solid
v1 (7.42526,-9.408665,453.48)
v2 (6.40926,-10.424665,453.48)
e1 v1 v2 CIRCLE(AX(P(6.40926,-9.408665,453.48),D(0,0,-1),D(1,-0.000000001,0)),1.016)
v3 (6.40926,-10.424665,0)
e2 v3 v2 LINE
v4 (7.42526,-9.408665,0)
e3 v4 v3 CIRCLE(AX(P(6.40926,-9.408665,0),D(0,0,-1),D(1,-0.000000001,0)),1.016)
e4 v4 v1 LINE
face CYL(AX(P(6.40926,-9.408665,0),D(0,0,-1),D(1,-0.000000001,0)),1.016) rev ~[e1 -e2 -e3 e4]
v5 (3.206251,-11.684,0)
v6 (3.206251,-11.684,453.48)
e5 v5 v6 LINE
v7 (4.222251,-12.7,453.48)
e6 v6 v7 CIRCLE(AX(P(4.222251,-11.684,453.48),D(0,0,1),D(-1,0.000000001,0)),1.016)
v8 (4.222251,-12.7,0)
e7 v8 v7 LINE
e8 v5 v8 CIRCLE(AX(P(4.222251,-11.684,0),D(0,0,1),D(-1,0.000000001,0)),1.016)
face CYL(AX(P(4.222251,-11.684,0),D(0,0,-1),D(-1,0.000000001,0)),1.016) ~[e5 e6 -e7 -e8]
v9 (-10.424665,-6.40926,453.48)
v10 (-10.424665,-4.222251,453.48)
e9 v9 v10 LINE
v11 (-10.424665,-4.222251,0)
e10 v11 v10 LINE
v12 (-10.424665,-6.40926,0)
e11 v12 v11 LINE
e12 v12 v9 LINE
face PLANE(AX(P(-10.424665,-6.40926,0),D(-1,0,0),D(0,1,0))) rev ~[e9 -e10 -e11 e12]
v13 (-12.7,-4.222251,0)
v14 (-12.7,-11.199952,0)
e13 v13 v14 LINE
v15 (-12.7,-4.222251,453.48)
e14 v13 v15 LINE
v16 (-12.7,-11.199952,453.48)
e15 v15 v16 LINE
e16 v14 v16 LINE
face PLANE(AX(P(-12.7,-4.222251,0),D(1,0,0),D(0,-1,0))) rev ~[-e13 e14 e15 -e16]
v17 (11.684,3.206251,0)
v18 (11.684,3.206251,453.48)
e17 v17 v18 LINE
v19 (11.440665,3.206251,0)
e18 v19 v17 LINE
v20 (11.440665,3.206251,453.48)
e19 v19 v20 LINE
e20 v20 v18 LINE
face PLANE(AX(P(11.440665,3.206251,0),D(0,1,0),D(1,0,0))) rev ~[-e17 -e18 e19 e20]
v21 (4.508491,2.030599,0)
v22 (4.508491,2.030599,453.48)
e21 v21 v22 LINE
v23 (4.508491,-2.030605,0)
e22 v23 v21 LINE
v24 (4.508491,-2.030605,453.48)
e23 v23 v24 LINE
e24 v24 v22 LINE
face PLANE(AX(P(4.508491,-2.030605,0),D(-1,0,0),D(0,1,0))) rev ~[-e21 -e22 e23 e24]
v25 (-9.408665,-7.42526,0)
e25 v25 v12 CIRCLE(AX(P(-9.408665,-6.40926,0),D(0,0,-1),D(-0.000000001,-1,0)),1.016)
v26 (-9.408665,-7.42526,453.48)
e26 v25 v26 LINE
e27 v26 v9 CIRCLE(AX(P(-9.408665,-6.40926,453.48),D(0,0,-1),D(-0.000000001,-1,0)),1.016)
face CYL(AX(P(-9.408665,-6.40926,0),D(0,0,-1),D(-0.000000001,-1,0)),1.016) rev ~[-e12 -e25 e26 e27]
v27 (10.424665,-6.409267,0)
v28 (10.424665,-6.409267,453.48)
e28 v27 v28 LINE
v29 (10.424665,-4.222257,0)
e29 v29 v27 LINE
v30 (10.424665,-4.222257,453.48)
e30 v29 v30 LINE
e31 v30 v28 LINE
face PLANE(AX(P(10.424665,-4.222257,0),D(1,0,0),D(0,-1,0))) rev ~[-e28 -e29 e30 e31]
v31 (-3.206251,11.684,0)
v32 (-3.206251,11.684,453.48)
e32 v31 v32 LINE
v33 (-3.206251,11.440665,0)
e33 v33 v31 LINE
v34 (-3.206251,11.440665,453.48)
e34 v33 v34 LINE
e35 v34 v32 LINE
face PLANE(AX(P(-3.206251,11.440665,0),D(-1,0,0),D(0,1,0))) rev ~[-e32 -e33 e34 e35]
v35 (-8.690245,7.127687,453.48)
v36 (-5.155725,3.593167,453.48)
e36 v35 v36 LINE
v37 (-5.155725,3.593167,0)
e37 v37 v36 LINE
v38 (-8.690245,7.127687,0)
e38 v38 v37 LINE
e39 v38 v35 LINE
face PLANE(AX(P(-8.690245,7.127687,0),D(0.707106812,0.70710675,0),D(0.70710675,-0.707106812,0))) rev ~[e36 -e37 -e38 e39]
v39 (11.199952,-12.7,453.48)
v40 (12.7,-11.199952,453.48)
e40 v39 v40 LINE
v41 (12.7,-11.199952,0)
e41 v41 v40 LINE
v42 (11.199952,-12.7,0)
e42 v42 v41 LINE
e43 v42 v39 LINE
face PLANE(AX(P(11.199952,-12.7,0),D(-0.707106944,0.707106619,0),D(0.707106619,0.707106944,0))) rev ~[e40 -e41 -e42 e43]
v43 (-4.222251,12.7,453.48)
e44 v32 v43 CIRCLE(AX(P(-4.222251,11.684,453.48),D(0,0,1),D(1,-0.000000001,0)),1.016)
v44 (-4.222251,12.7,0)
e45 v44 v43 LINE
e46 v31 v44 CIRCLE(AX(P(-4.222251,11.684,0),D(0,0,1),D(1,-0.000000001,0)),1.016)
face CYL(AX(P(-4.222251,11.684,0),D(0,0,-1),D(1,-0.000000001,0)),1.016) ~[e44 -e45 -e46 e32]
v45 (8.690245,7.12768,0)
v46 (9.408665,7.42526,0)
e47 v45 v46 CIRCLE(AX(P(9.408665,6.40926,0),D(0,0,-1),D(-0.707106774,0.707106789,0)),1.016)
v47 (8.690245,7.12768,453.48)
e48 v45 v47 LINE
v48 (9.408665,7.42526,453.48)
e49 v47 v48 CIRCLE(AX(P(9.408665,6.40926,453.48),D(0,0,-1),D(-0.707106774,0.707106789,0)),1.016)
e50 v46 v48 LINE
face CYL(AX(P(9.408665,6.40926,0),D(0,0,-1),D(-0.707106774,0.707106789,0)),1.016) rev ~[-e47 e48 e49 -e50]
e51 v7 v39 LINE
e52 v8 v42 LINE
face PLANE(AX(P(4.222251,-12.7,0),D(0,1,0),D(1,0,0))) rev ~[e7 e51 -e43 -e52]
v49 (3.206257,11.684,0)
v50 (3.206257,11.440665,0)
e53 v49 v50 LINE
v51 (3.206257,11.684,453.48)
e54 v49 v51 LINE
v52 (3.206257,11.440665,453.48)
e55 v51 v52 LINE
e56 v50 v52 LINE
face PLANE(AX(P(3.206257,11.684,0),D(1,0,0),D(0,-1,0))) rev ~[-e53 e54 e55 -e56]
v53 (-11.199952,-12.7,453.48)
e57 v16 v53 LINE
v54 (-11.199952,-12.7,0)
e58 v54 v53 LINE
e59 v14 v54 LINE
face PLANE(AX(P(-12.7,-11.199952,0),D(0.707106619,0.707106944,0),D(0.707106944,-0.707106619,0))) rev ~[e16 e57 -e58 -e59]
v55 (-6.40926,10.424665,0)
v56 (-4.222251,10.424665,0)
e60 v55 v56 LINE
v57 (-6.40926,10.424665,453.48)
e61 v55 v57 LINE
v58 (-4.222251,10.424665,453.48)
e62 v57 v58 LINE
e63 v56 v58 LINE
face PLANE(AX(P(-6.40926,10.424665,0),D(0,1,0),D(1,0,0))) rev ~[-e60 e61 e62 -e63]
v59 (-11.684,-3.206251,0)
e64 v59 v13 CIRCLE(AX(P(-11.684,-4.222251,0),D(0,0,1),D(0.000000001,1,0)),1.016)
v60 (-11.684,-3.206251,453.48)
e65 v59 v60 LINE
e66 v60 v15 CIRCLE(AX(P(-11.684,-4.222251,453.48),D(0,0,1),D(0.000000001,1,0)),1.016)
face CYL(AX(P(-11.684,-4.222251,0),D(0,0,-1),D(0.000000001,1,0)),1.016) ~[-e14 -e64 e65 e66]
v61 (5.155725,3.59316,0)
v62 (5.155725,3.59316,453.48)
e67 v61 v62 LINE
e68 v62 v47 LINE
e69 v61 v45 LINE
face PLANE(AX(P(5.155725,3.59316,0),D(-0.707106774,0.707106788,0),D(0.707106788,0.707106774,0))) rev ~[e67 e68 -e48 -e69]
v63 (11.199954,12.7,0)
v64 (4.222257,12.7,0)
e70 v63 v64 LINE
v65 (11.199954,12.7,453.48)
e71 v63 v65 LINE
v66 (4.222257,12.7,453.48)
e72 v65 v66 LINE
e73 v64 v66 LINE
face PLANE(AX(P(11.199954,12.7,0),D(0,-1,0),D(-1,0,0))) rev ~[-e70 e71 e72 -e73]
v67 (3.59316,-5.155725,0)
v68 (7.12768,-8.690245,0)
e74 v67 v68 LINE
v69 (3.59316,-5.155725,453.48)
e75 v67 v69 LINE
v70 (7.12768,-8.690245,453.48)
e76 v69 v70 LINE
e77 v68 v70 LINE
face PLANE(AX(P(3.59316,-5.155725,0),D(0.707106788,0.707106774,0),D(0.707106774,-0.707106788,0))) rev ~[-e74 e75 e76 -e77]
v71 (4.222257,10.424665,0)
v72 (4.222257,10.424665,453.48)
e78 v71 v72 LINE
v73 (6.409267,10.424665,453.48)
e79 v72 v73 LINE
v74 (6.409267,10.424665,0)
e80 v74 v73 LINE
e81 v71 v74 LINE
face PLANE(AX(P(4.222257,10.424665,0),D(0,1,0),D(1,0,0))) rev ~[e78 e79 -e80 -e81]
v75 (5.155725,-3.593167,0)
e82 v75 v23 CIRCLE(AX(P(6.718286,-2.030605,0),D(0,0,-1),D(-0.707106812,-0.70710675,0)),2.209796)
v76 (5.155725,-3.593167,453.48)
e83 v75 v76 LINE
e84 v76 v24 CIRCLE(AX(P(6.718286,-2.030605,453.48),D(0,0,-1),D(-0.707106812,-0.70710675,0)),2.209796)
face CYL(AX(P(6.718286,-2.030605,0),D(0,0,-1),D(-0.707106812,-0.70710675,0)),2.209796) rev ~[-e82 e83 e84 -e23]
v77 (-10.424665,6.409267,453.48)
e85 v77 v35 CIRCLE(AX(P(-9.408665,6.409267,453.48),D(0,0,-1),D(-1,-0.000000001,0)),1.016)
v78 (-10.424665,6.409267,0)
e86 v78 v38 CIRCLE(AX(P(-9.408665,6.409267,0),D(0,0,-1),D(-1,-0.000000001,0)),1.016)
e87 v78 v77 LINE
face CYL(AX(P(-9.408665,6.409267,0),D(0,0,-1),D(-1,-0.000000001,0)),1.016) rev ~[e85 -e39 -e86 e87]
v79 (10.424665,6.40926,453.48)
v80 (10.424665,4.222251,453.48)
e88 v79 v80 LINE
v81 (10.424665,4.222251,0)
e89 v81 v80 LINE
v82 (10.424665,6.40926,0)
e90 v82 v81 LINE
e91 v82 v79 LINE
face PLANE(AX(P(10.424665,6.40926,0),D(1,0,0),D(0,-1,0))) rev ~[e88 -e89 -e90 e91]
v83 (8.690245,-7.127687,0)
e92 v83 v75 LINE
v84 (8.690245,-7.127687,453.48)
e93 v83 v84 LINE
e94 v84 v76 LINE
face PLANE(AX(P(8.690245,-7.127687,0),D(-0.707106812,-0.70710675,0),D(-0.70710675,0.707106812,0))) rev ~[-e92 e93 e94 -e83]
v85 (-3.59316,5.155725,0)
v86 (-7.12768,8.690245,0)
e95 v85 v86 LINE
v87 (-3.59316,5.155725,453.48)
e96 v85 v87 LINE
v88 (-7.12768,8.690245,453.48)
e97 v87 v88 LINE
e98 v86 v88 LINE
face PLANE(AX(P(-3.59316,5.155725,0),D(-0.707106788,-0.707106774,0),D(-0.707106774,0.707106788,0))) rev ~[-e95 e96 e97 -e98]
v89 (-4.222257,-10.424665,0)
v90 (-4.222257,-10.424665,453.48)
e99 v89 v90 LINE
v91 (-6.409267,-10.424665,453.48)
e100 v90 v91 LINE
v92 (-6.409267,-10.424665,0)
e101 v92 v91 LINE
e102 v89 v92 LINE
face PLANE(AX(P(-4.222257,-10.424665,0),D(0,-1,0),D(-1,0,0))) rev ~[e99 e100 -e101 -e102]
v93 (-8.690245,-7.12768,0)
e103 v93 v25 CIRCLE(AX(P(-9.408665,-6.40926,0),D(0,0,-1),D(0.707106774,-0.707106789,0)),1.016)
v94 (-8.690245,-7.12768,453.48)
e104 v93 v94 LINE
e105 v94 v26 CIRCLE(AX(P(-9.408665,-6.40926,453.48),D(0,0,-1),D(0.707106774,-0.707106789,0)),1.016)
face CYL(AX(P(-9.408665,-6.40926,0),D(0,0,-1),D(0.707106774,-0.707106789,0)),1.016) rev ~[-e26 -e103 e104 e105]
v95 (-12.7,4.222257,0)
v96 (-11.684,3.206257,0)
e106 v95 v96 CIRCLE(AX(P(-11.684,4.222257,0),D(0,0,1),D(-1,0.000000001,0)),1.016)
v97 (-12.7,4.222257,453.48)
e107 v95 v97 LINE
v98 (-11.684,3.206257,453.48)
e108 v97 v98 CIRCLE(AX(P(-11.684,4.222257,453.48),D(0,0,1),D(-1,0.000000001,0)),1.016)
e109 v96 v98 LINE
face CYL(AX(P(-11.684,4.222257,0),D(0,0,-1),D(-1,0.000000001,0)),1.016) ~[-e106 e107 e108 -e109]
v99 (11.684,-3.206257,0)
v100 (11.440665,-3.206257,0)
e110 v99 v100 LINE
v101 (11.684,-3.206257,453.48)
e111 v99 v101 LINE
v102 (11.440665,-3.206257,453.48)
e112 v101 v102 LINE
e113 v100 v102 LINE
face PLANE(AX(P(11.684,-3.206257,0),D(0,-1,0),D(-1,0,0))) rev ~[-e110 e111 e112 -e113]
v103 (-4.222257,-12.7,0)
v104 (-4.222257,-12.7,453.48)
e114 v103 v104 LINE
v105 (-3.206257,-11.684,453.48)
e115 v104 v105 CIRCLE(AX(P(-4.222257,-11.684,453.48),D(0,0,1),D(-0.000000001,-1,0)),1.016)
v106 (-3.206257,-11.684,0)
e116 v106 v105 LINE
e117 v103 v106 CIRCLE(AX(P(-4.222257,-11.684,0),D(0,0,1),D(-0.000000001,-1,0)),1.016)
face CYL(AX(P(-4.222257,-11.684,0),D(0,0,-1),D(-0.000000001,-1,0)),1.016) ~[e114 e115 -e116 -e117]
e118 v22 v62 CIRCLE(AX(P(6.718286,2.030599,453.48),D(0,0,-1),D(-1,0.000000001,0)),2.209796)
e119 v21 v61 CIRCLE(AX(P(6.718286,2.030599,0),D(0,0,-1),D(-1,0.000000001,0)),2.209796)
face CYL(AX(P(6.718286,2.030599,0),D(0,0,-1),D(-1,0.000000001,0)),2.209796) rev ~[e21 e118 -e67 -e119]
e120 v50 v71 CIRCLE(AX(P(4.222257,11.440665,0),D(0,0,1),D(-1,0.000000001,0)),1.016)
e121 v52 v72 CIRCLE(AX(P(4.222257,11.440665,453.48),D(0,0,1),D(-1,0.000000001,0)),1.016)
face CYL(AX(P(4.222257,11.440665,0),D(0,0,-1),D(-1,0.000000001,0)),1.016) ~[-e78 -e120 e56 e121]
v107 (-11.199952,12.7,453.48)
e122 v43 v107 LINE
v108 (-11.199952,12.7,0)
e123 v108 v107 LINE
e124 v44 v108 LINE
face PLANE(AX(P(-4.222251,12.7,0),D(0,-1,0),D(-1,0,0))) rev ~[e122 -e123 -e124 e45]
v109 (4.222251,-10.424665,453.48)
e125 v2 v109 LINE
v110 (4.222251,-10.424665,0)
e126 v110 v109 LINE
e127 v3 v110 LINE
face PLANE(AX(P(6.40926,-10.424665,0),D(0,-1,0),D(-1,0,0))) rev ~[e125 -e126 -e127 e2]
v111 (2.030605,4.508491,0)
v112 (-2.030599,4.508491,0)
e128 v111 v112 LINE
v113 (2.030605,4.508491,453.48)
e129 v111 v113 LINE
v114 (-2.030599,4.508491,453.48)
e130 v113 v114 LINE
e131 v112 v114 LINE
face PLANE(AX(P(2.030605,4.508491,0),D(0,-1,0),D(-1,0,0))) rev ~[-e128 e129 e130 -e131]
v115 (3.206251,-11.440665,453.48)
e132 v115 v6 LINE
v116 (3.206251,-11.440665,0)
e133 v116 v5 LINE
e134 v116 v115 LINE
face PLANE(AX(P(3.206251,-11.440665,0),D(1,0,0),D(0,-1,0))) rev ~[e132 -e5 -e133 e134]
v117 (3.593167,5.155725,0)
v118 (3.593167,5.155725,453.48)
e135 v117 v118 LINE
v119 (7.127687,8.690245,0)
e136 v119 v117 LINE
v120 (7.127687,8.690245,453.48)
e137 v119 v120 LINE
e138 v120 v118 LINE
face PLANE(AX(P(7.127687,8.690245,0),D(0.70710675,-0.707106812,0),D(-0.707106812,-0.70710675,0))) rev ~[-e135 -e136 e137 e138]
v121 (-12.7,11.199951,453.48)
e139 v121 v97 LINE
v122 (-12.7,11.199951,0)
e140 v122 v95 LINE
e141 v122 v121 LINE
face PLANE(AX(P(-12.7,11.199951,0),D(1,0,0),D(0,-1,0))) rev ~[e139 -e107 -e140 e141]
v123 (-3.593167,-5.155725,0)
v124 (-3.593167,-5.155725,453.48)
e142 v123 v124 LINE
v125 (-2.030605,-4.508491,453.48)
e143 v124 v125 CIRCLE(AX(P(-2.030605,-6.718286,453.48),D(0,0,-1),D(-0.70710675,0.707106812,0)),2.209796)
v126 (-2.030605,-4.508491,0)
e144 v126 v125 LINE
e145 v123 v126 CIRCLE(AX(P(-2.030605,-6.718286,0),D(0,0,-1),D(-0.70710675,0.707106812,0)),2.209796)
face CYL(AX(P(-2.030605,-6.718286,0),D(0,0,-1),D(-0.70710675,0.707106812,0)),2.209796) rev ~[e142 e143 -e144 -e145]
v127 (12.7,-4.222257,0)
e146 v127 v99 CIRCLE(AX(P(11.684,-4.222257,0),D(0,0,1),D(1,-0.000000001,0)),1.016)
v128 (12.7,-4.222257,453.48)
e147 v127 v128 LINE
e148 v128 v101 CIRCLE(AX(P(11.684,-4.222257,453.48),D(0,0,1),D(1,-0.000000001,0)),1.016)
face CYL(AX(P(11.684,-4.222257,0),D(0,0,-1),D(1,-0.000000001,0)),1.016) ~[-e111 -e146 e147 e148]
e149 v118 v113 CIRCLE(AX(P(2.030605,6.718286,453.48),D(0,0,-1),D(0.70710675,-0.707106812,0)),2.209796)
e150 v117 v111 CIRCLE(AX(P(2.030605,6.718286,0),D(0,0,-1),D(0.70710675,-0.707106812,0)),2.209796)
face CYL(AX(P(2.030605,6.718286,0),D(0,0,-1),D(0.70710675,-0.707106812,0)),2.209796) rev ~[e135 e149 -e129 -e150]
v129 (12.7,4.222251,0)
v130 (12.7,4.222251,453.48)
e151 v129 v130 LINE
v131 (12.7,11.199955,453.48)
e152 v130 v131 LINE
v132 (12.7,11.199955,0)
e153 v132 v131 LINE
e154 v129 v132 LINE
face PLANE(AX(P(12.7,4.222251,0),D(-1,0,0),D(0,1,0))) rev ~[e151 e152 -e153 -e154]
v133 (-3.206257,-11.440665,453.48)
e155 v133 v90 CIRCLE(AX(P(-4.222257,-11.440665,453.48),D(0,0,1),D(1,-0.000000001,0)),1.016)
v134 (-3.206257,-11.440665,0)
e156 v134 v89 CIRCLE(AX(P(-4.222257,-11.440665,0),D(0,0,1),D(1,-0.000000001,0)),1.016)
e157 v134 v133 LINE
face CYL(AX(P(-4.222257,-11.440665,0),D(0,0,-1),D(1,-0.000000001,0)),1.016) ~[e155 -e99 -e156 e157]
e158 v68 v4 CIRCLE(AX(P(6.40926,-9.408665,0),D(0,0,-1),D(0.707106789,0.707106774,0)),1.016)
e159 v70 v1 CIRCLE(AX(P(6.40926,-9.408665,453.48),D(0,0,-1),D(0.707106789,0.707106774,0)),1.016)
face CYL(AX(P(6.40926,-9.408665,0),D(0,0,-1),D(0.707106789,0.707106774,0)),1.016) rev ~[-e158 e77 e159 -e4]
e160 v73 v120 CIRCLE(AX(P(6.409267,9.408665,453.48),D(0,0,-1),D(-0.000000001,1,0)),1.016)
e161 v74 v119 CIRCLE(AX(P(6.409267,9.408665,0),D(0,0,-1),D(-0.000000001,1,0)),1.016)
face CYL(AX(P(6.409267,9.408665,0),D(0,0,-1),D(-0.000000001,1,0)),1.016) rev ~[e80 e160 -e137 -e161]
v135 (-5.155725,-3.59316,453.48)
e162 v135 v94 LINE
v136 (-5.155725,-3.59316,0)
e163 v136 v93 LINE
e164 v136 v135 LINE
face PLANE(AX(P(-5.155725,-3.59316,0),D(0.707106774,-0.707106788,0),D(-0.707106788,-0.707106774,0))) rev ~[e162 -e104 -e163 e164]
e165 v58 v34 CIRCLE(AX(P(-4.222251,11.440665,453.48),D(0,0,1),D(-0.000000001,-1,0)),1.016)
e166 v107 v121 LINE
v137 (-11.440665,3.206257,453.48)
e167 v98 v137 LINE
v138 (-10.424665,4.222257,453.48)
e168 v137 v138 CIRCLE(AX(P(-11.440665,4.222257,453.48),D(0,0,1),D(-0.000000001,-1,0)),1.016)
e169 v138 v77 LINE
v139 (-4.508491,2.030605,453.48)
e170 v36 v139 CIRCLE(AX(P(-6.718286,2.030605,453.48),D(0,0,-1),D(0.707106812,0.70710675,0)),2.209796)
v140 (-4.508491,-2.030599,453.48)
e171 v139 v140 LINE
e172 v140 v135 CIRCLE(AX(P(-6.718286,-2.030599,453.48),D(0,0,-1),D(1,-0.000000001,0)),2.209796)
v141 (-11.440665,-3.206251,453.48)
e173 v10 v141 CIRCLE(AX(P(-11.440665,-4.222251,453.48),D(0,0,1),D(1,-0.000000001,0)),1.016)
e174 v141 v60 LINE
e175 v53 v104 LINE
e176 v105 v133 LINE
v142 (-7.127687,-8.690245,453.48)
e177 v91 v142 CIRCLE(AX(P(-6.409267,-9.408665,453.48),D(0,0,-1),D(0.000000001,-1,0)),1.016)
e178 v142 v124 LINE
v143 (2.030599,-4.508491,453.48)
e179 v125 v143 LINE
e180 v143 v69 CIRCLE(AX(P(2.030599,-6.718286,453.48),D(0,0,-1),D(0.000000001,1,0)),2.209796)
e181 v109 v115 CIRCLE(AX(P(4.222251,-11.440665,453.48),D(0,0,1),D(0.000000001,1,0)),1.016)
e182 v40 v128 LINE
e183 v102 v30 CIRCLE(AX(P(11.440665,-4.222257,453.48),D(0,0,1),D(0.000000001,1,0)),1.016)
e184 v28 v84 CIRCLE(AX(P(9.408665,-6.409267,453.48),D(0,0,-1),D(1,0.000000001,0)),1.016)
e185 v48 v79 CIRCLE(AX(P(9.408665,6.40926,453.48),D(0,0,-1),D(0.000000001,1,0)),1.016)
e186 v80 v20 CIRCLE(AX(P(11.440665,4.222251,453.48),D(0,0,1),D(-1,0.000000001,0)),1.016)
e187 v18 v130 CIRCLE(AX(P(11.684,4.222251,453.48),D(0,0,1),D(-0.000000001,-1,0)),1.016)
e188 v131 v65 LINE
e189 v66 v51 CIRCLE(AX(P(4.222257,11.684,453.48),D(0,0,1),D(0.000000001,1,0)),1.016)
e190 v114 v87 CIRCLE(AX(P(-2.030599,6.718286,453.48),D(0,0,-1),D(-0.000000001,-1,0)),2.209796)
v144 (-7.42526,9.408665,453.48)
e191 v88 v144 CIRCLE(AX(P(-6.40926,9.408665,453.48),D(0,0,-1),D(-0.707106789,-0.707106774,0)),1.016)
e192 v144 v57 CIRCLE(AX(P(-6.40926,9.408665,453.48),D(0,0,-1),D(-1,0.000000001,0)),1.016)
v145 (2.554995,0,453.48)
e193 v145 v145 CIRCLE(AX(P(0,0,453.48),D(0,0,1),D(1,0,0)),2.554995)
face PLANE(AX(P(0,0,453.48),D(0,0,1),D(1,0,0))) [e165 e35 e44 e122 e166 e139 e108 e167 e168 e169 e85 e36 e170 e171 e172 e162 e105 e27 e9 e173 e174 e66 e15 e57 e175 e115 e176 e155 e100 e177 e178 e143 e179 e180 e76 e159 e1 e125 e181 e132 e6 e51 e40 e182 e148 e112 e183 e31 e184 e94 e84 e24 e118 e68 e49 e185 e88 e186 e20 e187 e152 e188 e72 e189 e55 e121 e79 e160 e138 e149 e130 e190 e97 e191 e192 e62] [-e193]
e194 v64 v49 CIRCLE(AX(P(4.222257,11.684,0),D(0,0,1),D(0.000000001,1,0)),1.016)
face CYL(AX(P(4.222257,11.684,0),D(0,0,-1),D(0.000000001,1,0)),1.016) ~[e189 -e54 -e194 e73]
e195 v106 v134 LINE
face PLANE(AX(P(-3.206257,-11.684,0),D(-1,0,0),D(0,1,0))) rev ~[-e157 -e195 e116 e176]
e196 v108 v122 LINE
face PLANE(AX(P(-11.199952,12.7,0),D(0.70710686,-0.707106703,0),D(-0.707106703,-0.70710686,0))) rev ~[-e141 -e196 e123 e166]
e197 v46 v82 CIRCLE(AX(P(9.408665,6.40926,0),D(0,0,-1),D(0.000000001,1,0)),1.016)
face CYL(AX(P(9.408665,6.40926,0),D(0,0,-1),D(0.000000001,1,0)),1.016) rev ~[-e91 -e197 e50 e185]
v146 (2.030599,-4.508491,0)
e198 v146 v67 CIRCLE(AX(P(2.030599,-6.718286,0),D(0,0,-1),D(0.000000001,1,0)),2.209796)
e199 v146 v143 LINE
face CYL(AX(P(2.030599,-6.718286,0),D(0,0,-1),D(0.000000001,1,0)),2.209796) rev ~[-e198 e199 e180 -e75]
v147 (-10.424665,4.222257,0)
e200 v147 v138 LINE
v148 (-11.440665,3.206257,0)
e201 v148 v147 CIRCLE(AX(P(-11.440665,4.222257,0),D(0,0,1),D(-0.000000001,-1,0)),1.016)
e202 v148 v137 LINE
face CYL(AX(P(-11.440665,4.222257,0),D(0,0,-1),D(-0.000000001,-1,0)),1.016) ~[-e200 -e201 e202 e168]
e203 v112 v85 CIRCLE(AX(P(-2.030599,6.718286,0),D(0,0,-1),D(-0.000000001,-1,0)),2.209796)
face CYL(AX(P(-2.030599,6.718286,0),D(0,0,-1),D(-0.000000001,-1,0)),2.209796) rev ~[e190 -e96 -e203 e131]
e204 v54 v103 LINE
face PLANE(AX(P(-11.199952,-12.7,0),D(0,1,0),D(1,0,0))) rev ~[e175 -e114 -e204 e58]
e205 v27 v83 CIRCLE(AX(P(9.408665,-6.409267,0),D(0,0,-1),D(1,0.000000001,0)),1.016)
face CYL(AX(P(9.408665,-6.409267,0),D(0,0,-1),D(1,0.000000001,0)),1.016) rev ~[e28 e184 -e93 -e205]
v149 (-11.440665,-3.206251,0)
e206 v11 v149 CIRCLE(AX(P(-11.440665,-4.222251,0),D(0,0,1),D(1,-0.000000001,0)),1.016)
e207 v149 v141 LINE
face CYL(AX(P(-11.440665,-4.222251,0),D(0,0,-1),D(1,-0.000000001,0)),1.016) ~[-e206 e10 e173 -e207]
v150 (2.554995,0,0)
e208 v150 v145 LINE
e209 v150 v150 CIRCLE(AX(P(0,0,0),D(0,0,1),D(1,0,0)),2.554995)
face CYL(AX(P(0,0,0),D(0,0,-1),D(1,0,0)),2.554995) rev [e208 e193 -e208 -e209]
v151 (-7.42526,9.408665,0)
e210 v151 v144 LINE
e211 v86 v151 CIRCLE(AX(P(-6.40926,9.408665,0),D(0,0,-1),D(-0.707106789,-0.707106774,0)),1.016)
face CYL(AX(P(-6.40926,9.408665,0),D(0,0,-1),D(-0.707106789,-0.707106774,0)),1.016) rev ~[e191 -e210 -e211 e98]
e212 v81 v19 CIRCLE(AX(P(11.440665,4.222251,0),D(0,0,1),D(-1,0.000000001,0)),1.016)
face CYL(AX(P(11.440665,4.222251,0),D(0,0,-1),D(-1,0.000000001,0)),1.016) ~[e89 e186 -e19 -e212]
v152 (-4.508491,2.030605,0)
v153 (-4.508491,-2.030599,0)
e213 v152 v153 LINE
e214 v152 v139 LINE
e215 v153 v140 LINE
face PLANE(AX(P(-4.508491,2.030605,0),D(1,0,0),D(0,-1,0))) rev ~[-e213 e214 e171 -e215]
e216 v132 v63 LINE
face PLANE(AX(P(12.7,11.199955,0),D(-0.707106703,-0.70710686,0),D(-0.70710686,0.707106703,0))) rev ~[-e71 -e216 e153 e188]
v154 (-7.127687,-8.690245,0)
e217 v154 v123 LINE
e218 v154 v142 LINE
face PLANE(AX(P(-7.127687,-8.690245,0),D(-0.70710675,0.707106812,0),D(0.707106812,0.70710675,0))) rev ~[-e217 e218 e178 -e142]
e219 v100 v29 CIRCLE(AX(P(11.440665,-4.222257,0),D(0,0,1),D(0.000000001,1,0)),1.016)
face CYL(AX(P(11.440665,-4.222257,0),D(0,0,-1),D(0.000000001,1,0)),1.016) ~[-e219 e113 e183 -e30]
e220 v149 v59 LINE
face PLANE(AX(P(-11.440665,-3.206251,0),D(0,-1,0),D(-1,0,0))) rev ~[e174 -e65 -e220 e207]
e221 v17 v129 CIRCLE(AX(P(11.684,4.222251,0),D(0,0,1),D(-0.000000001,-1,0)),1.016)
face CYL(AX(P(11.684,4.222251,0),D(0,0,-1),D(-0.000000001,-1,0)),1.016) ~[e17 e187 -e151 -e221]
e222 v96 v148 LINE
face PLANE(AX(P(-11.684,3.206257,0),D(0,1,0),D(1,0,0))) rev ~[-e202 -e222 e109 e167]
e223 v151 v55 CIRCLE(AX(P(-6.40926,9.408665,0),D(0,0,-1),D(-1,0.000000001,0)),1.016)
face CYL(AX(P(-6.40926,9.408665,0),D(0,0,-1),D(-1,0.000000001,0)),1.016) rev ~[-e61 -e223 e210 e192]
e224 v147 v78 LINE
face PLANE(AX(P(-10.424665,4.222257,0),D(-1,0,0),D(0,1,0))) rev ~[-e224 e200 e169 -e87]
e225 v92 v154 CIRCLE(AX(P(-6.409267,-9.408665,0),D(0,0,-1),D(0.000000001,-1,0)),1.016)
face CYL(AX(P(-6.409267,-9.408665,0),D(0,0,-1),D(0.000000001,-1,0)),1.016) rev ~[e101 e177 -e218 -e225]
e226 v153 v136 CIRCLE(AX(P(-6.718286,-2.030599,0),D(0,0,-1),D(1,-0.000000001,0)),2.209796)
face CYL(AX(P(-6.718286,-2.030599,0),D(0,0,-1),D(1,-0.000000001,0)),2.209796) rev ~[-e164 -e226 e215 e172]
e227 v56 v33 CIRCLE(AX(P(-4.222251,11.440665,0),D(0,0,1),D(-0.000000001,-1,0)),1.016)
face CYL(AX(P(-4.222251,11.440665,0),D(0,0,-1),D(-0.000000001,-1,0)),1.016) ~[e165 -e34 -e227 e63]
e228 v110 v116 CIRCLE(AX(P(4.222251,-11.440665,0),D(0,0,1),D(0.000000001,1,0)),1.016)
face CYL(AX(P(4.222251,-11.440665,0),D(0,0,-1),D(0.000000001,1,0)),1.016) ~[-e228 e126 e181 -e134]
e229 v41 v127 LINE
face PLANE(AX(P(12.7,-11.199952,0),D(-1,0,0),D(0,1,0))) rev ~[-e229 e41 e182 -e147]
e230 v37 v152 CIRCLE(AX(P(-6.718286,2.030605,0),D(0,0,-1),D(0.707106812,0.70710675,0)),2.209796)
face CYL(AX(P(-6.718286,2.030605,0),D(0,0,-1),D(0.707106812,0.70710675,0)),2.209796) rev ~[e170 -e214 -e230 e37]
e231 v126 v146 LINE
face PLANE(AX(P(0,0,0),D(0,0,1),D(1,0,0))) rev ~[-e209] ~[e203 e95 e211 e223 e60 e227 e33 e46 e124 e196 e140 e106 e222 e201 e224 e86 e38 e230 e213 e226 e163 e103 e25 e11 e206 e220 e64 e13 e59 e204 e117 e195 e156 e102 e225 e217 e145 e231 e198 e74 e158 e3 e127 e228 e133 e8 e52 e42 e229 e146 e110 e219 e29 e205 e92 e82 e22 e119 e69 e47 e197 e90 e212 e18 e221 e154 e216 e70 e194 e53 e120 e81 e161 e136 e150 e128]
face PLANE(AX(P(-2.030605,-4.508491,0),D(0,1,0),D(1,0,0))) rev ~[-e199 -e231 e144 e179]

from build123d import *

# Parameters (mm, degrees)
BOSS_EXTRUDE1_DEPTH = 453.48


with BuildPart() as part:
    # Sketch1 → Boss-Extrude1 (new body)
    with BuildSketch(Plane.XY):
        with BuildLine():
            Line((-11.199951579, -12.7), (-4.222256762, -12.7))
            ThreePointArc((-4.222256762, -12.7), (-3.503836272, -12.40242049), (-3.206256762, -11.684))
            Line((-3.206256762, -11.684), (-3.206256762, -11.440665395))
            ThreePointArc((-3.206256762, -11.440665395), (-3.503836272, -10.722244905), (-4.222256762, -10.424665395))
            Line((-4.222256762, -10.424665395), (-6.40926672, -10.424665395))
            ThreePointArc((-6.40926672, -10.424665395), (-7.347928334, -9.797471742), (-7.127687178, -8.690244874))
            Line((-7.127687178, -8.690244874), (-3.593166694, -5.155724698))
            ThreePointArc((-3.593166694, -5.155724698), (-2.876257435, -4.67670128), (-2.030605322, -4.508490626))
            Line((-2.030605322, -4.508490626), (2.030598864, -4.508490626))
            ThreePointArc((2.030598864, -4.508490626), (2.876251031, -4.676701303), (3.593160319, -5.155724782))
            Line((3.593160319, -5.155724782), (7.127680379, -8.690244912))
            ThreePointArc((7.127680379, -8.690244912), (7.347921489, -9.019859032), (7.425259882, -9.408665395))
            ThreePointArc((7.425259882, -9.408665395), (7.127680372, -10.127085884), (6.409259882, -10.424665395))
            Line((6.409259882, -10.424665395), (4.22225065, -10.424665395))
            ThreePointArc((4.22225065, -10.424665395), (3.50383016, -10.722244905), (3.20625065, -11.440665395))
            Line((3.20625065, -11.440665395), (3.20625065, -11.684))
            ThreePointArc((3.20625065, -11.684), (3.50383016, -12.40242049), (4.22225065, -12.7))
            Line((4.22225065, -12.7), (11.199952422, -12.7))
            Line((11.199952422, -12.7), (12.7, -11.199951732))
            Line((12.7, -11.199951732), (12.7, -4.222256762))
            ThreePointArc((12.7, -4.222256762), (12.40242049, -3.503836272), (11.684, -3.206256762))
            Line((11.684, -3.206256762), (11.440665395, -3.206256762))
            ThreePointArc((11.440665395, -3.206256762), (10.722244905, -3.503836272), (10.424665395, -4.222256762))
            Line((10.424665395, -4.222256762), (10.424665395, -6.40926672))
            ThreePointArc((10.424665395, -6.40926672), (9.797471742, -7.347928334), (8.690244874, -7.127687178))
            Line((8.690244874, -7.127687178), (5.155724698, -3.593166694))
            ThreePointArc((5.155724698, -3.593166694), (4.67670128, -2.876257435), (4.508490626, -2.030605322))
            Line((4.508490626, -2.030605322), (4.508490626, 2.030598864))
            ThreePointArc((4.508490626, 2.030598864), (4.676701303, 2.876251031), (5.155724782, 3.593160319))
            Line((5.155724782, 3.593160319), (8.690244912, 7.127680379))
            ThreePointArc((8.690244912, 7.127680379), (9.019859032, 7.347921489), (9.408665395, 7.425259882))
            ThreePointArc((9.408665395, 7.425259882), (10.127085884, 7.127680372), (10.424665395, 6.409259882))
            Line((10.424665395, 6.409259882), (10.424665395, 4.22225065))
            ThreePointArc((10.424665395, 4.22225065), (10.722244905, 3.50383016), (11.440665395, 3.20625065))
            Line((11.440665395, 3.20625065), (11.684, 3.20625065))
            ThreePointArc((11.684, 3.20625065), (12.40242049, 3.50383016), (12.7, 4.22225065))
            Line((12.7, 4.22225065), (12.7, 11.199954756))
            Line((12.7, 11.199954756), (11.199954423, 12.7))
            Line((11.199954423, 12.7), (4.222256762, 12.7))
            ThreePointArc((4.222256762, 12.7), (3.503836272, 12.40242049), (3.206256762, 11.684))
            Line((3.206256762, 11.684), (3.206256762, 11.440665395))
            ThreePointArc((3.206256762, 11.440665395), (3.503836272, 10.722244905), (4.222256762, 10.424665395))
            Line((4.222256762, 10.424665395), (6.40926672, 10.424665395))
            ThreePointArc((6.40926672, 10.424665395), (7.347928334, 9.797471742), (7.127687178, 8.690244874))
            Line((7.127687178, 8.690244874), (3.593166694, 5.155724698))
            ThreePointArc((3.593166694, 5.155724698), (2.876257435, 4.67670128), (2.030605322, 4.508490626))
            Line((2.030605322, 4.508490626), (-2.030598864, 4.508490626))
            ThreePointArc((-2.030598864, 4.508490626), (-2.876251031, 4.676701303), (-3.593160319, 5.155724782))
            Line((-3.593160319, 5.155724782), (-7.127680379, 8.690244912))
            ThreePointArc((-7.127680379, 8.690244912), (-7.347921489, 9.019859032), (-7.425259882, 9.408665395))
            ThreePointArc((-7.425259882, 9.408665395), (-7.127680372, 10.127085884), (-6.409259882, 10.424665395))
            Line((-6.409259882, 10.424665395), (-4.22225065, 10.424665395))
            ThreePointArc((-4.22225065, 10.424665395), (-3.50383016, 10.722244905), (-3.20625065, 11.440665395))
            Line((-3.20625065, 11.440665395), (-3.20625065, 11.684))
            ThreePointArc((-3.20625065, 11.684), (-3.50383016, 12.40242049), (-4.22225065, 12.7))
            Line((-4.22225065, 12.7), (-11.199951733, 12.7))
            Line((-11.199951733, 12.7), (-12.7, 11.1999514))
            Line((-12.7, 11.1999514), (-12.7, 4.222256762))
            ThreePointArc((-12.7, 4.222256762), (-12.40242049, 3.503836272), (-11.684, 3.206256762))
            Line((-11.684, 3.206256762), (-11.440665395, 3.206256762))
            ThreePointArc((-11.440665395, 3.206256762), (-10.722244905, 3.503836272), (-10.424665395, 4.222256762))
            Line((-10.424665395, 4.222256762), (-10.424665395, 6.40926672))
            ThreePointArc((-10.424665395, 6.40926672), (-9.797471742, 7.347928334), (-8.690244874, 7.127687178))
            Line((-8.690244874, 7.127687178), (-5.155724698, 3.593166694))
            ThreePointArc((-5.155724698, 3.593166694), (-4.67670128, 2.876257435), (-4.508490626, 2.030605322))
            Line((-4.508490626, 2.030605322), (-4.508490626, -2.030598864))
            ThreePointArc((-4.508490626, -2.030598864), (-4.676701303, -2.876251031), (-5.155724782, -3.593160319))
            Line((-5.155724782, -3.593160319), (-8.690244912, -7.127680379))
            ThreePointArc((-8.690244912, -7.127680379), (-9.019859032, -7.347921489), (-9.408665395, -7.425259882))
            ThreePointArc((-9.408665395, -7.425259882), (-10.127085884, -7.127680372), (-10.424665395, -6.409259882))
            Line((-10.424665395, -6.409259882), (-10.424665395, -4.22225065))
            ThreePointArc((-10.424665395, -4.22225065), (-10.722244905, -3.50383016), (-11.440665395, -3.20625065))
            Line((-11.440665395, -3.20625065), (-11.684, -3.20625065))
            ThreePointArc((-11.684, -3.20625065), (-12.40242049, -3.50383016), (-12.7, -4.22225065))
            Line((-12.7, -4.22225065), (-12.7, -11.199952268))
            Line((-12.7, -11.199952268), (-11.199951579, -12.7))
        make_face()
        with BuildLine():
            ThreePointArc((-2.55499489, 0), (0, -2.55499489), (2.55499489, 0))
            ThreePointArc((2.55499489, 0), (0, 2.55499489), (-2.55499489, 0))
        make_face(mode=Mode.SUBTRACT)
    extrude(amount=BOSS_EXTRUDE1_DEPTH)


solid = part.part
